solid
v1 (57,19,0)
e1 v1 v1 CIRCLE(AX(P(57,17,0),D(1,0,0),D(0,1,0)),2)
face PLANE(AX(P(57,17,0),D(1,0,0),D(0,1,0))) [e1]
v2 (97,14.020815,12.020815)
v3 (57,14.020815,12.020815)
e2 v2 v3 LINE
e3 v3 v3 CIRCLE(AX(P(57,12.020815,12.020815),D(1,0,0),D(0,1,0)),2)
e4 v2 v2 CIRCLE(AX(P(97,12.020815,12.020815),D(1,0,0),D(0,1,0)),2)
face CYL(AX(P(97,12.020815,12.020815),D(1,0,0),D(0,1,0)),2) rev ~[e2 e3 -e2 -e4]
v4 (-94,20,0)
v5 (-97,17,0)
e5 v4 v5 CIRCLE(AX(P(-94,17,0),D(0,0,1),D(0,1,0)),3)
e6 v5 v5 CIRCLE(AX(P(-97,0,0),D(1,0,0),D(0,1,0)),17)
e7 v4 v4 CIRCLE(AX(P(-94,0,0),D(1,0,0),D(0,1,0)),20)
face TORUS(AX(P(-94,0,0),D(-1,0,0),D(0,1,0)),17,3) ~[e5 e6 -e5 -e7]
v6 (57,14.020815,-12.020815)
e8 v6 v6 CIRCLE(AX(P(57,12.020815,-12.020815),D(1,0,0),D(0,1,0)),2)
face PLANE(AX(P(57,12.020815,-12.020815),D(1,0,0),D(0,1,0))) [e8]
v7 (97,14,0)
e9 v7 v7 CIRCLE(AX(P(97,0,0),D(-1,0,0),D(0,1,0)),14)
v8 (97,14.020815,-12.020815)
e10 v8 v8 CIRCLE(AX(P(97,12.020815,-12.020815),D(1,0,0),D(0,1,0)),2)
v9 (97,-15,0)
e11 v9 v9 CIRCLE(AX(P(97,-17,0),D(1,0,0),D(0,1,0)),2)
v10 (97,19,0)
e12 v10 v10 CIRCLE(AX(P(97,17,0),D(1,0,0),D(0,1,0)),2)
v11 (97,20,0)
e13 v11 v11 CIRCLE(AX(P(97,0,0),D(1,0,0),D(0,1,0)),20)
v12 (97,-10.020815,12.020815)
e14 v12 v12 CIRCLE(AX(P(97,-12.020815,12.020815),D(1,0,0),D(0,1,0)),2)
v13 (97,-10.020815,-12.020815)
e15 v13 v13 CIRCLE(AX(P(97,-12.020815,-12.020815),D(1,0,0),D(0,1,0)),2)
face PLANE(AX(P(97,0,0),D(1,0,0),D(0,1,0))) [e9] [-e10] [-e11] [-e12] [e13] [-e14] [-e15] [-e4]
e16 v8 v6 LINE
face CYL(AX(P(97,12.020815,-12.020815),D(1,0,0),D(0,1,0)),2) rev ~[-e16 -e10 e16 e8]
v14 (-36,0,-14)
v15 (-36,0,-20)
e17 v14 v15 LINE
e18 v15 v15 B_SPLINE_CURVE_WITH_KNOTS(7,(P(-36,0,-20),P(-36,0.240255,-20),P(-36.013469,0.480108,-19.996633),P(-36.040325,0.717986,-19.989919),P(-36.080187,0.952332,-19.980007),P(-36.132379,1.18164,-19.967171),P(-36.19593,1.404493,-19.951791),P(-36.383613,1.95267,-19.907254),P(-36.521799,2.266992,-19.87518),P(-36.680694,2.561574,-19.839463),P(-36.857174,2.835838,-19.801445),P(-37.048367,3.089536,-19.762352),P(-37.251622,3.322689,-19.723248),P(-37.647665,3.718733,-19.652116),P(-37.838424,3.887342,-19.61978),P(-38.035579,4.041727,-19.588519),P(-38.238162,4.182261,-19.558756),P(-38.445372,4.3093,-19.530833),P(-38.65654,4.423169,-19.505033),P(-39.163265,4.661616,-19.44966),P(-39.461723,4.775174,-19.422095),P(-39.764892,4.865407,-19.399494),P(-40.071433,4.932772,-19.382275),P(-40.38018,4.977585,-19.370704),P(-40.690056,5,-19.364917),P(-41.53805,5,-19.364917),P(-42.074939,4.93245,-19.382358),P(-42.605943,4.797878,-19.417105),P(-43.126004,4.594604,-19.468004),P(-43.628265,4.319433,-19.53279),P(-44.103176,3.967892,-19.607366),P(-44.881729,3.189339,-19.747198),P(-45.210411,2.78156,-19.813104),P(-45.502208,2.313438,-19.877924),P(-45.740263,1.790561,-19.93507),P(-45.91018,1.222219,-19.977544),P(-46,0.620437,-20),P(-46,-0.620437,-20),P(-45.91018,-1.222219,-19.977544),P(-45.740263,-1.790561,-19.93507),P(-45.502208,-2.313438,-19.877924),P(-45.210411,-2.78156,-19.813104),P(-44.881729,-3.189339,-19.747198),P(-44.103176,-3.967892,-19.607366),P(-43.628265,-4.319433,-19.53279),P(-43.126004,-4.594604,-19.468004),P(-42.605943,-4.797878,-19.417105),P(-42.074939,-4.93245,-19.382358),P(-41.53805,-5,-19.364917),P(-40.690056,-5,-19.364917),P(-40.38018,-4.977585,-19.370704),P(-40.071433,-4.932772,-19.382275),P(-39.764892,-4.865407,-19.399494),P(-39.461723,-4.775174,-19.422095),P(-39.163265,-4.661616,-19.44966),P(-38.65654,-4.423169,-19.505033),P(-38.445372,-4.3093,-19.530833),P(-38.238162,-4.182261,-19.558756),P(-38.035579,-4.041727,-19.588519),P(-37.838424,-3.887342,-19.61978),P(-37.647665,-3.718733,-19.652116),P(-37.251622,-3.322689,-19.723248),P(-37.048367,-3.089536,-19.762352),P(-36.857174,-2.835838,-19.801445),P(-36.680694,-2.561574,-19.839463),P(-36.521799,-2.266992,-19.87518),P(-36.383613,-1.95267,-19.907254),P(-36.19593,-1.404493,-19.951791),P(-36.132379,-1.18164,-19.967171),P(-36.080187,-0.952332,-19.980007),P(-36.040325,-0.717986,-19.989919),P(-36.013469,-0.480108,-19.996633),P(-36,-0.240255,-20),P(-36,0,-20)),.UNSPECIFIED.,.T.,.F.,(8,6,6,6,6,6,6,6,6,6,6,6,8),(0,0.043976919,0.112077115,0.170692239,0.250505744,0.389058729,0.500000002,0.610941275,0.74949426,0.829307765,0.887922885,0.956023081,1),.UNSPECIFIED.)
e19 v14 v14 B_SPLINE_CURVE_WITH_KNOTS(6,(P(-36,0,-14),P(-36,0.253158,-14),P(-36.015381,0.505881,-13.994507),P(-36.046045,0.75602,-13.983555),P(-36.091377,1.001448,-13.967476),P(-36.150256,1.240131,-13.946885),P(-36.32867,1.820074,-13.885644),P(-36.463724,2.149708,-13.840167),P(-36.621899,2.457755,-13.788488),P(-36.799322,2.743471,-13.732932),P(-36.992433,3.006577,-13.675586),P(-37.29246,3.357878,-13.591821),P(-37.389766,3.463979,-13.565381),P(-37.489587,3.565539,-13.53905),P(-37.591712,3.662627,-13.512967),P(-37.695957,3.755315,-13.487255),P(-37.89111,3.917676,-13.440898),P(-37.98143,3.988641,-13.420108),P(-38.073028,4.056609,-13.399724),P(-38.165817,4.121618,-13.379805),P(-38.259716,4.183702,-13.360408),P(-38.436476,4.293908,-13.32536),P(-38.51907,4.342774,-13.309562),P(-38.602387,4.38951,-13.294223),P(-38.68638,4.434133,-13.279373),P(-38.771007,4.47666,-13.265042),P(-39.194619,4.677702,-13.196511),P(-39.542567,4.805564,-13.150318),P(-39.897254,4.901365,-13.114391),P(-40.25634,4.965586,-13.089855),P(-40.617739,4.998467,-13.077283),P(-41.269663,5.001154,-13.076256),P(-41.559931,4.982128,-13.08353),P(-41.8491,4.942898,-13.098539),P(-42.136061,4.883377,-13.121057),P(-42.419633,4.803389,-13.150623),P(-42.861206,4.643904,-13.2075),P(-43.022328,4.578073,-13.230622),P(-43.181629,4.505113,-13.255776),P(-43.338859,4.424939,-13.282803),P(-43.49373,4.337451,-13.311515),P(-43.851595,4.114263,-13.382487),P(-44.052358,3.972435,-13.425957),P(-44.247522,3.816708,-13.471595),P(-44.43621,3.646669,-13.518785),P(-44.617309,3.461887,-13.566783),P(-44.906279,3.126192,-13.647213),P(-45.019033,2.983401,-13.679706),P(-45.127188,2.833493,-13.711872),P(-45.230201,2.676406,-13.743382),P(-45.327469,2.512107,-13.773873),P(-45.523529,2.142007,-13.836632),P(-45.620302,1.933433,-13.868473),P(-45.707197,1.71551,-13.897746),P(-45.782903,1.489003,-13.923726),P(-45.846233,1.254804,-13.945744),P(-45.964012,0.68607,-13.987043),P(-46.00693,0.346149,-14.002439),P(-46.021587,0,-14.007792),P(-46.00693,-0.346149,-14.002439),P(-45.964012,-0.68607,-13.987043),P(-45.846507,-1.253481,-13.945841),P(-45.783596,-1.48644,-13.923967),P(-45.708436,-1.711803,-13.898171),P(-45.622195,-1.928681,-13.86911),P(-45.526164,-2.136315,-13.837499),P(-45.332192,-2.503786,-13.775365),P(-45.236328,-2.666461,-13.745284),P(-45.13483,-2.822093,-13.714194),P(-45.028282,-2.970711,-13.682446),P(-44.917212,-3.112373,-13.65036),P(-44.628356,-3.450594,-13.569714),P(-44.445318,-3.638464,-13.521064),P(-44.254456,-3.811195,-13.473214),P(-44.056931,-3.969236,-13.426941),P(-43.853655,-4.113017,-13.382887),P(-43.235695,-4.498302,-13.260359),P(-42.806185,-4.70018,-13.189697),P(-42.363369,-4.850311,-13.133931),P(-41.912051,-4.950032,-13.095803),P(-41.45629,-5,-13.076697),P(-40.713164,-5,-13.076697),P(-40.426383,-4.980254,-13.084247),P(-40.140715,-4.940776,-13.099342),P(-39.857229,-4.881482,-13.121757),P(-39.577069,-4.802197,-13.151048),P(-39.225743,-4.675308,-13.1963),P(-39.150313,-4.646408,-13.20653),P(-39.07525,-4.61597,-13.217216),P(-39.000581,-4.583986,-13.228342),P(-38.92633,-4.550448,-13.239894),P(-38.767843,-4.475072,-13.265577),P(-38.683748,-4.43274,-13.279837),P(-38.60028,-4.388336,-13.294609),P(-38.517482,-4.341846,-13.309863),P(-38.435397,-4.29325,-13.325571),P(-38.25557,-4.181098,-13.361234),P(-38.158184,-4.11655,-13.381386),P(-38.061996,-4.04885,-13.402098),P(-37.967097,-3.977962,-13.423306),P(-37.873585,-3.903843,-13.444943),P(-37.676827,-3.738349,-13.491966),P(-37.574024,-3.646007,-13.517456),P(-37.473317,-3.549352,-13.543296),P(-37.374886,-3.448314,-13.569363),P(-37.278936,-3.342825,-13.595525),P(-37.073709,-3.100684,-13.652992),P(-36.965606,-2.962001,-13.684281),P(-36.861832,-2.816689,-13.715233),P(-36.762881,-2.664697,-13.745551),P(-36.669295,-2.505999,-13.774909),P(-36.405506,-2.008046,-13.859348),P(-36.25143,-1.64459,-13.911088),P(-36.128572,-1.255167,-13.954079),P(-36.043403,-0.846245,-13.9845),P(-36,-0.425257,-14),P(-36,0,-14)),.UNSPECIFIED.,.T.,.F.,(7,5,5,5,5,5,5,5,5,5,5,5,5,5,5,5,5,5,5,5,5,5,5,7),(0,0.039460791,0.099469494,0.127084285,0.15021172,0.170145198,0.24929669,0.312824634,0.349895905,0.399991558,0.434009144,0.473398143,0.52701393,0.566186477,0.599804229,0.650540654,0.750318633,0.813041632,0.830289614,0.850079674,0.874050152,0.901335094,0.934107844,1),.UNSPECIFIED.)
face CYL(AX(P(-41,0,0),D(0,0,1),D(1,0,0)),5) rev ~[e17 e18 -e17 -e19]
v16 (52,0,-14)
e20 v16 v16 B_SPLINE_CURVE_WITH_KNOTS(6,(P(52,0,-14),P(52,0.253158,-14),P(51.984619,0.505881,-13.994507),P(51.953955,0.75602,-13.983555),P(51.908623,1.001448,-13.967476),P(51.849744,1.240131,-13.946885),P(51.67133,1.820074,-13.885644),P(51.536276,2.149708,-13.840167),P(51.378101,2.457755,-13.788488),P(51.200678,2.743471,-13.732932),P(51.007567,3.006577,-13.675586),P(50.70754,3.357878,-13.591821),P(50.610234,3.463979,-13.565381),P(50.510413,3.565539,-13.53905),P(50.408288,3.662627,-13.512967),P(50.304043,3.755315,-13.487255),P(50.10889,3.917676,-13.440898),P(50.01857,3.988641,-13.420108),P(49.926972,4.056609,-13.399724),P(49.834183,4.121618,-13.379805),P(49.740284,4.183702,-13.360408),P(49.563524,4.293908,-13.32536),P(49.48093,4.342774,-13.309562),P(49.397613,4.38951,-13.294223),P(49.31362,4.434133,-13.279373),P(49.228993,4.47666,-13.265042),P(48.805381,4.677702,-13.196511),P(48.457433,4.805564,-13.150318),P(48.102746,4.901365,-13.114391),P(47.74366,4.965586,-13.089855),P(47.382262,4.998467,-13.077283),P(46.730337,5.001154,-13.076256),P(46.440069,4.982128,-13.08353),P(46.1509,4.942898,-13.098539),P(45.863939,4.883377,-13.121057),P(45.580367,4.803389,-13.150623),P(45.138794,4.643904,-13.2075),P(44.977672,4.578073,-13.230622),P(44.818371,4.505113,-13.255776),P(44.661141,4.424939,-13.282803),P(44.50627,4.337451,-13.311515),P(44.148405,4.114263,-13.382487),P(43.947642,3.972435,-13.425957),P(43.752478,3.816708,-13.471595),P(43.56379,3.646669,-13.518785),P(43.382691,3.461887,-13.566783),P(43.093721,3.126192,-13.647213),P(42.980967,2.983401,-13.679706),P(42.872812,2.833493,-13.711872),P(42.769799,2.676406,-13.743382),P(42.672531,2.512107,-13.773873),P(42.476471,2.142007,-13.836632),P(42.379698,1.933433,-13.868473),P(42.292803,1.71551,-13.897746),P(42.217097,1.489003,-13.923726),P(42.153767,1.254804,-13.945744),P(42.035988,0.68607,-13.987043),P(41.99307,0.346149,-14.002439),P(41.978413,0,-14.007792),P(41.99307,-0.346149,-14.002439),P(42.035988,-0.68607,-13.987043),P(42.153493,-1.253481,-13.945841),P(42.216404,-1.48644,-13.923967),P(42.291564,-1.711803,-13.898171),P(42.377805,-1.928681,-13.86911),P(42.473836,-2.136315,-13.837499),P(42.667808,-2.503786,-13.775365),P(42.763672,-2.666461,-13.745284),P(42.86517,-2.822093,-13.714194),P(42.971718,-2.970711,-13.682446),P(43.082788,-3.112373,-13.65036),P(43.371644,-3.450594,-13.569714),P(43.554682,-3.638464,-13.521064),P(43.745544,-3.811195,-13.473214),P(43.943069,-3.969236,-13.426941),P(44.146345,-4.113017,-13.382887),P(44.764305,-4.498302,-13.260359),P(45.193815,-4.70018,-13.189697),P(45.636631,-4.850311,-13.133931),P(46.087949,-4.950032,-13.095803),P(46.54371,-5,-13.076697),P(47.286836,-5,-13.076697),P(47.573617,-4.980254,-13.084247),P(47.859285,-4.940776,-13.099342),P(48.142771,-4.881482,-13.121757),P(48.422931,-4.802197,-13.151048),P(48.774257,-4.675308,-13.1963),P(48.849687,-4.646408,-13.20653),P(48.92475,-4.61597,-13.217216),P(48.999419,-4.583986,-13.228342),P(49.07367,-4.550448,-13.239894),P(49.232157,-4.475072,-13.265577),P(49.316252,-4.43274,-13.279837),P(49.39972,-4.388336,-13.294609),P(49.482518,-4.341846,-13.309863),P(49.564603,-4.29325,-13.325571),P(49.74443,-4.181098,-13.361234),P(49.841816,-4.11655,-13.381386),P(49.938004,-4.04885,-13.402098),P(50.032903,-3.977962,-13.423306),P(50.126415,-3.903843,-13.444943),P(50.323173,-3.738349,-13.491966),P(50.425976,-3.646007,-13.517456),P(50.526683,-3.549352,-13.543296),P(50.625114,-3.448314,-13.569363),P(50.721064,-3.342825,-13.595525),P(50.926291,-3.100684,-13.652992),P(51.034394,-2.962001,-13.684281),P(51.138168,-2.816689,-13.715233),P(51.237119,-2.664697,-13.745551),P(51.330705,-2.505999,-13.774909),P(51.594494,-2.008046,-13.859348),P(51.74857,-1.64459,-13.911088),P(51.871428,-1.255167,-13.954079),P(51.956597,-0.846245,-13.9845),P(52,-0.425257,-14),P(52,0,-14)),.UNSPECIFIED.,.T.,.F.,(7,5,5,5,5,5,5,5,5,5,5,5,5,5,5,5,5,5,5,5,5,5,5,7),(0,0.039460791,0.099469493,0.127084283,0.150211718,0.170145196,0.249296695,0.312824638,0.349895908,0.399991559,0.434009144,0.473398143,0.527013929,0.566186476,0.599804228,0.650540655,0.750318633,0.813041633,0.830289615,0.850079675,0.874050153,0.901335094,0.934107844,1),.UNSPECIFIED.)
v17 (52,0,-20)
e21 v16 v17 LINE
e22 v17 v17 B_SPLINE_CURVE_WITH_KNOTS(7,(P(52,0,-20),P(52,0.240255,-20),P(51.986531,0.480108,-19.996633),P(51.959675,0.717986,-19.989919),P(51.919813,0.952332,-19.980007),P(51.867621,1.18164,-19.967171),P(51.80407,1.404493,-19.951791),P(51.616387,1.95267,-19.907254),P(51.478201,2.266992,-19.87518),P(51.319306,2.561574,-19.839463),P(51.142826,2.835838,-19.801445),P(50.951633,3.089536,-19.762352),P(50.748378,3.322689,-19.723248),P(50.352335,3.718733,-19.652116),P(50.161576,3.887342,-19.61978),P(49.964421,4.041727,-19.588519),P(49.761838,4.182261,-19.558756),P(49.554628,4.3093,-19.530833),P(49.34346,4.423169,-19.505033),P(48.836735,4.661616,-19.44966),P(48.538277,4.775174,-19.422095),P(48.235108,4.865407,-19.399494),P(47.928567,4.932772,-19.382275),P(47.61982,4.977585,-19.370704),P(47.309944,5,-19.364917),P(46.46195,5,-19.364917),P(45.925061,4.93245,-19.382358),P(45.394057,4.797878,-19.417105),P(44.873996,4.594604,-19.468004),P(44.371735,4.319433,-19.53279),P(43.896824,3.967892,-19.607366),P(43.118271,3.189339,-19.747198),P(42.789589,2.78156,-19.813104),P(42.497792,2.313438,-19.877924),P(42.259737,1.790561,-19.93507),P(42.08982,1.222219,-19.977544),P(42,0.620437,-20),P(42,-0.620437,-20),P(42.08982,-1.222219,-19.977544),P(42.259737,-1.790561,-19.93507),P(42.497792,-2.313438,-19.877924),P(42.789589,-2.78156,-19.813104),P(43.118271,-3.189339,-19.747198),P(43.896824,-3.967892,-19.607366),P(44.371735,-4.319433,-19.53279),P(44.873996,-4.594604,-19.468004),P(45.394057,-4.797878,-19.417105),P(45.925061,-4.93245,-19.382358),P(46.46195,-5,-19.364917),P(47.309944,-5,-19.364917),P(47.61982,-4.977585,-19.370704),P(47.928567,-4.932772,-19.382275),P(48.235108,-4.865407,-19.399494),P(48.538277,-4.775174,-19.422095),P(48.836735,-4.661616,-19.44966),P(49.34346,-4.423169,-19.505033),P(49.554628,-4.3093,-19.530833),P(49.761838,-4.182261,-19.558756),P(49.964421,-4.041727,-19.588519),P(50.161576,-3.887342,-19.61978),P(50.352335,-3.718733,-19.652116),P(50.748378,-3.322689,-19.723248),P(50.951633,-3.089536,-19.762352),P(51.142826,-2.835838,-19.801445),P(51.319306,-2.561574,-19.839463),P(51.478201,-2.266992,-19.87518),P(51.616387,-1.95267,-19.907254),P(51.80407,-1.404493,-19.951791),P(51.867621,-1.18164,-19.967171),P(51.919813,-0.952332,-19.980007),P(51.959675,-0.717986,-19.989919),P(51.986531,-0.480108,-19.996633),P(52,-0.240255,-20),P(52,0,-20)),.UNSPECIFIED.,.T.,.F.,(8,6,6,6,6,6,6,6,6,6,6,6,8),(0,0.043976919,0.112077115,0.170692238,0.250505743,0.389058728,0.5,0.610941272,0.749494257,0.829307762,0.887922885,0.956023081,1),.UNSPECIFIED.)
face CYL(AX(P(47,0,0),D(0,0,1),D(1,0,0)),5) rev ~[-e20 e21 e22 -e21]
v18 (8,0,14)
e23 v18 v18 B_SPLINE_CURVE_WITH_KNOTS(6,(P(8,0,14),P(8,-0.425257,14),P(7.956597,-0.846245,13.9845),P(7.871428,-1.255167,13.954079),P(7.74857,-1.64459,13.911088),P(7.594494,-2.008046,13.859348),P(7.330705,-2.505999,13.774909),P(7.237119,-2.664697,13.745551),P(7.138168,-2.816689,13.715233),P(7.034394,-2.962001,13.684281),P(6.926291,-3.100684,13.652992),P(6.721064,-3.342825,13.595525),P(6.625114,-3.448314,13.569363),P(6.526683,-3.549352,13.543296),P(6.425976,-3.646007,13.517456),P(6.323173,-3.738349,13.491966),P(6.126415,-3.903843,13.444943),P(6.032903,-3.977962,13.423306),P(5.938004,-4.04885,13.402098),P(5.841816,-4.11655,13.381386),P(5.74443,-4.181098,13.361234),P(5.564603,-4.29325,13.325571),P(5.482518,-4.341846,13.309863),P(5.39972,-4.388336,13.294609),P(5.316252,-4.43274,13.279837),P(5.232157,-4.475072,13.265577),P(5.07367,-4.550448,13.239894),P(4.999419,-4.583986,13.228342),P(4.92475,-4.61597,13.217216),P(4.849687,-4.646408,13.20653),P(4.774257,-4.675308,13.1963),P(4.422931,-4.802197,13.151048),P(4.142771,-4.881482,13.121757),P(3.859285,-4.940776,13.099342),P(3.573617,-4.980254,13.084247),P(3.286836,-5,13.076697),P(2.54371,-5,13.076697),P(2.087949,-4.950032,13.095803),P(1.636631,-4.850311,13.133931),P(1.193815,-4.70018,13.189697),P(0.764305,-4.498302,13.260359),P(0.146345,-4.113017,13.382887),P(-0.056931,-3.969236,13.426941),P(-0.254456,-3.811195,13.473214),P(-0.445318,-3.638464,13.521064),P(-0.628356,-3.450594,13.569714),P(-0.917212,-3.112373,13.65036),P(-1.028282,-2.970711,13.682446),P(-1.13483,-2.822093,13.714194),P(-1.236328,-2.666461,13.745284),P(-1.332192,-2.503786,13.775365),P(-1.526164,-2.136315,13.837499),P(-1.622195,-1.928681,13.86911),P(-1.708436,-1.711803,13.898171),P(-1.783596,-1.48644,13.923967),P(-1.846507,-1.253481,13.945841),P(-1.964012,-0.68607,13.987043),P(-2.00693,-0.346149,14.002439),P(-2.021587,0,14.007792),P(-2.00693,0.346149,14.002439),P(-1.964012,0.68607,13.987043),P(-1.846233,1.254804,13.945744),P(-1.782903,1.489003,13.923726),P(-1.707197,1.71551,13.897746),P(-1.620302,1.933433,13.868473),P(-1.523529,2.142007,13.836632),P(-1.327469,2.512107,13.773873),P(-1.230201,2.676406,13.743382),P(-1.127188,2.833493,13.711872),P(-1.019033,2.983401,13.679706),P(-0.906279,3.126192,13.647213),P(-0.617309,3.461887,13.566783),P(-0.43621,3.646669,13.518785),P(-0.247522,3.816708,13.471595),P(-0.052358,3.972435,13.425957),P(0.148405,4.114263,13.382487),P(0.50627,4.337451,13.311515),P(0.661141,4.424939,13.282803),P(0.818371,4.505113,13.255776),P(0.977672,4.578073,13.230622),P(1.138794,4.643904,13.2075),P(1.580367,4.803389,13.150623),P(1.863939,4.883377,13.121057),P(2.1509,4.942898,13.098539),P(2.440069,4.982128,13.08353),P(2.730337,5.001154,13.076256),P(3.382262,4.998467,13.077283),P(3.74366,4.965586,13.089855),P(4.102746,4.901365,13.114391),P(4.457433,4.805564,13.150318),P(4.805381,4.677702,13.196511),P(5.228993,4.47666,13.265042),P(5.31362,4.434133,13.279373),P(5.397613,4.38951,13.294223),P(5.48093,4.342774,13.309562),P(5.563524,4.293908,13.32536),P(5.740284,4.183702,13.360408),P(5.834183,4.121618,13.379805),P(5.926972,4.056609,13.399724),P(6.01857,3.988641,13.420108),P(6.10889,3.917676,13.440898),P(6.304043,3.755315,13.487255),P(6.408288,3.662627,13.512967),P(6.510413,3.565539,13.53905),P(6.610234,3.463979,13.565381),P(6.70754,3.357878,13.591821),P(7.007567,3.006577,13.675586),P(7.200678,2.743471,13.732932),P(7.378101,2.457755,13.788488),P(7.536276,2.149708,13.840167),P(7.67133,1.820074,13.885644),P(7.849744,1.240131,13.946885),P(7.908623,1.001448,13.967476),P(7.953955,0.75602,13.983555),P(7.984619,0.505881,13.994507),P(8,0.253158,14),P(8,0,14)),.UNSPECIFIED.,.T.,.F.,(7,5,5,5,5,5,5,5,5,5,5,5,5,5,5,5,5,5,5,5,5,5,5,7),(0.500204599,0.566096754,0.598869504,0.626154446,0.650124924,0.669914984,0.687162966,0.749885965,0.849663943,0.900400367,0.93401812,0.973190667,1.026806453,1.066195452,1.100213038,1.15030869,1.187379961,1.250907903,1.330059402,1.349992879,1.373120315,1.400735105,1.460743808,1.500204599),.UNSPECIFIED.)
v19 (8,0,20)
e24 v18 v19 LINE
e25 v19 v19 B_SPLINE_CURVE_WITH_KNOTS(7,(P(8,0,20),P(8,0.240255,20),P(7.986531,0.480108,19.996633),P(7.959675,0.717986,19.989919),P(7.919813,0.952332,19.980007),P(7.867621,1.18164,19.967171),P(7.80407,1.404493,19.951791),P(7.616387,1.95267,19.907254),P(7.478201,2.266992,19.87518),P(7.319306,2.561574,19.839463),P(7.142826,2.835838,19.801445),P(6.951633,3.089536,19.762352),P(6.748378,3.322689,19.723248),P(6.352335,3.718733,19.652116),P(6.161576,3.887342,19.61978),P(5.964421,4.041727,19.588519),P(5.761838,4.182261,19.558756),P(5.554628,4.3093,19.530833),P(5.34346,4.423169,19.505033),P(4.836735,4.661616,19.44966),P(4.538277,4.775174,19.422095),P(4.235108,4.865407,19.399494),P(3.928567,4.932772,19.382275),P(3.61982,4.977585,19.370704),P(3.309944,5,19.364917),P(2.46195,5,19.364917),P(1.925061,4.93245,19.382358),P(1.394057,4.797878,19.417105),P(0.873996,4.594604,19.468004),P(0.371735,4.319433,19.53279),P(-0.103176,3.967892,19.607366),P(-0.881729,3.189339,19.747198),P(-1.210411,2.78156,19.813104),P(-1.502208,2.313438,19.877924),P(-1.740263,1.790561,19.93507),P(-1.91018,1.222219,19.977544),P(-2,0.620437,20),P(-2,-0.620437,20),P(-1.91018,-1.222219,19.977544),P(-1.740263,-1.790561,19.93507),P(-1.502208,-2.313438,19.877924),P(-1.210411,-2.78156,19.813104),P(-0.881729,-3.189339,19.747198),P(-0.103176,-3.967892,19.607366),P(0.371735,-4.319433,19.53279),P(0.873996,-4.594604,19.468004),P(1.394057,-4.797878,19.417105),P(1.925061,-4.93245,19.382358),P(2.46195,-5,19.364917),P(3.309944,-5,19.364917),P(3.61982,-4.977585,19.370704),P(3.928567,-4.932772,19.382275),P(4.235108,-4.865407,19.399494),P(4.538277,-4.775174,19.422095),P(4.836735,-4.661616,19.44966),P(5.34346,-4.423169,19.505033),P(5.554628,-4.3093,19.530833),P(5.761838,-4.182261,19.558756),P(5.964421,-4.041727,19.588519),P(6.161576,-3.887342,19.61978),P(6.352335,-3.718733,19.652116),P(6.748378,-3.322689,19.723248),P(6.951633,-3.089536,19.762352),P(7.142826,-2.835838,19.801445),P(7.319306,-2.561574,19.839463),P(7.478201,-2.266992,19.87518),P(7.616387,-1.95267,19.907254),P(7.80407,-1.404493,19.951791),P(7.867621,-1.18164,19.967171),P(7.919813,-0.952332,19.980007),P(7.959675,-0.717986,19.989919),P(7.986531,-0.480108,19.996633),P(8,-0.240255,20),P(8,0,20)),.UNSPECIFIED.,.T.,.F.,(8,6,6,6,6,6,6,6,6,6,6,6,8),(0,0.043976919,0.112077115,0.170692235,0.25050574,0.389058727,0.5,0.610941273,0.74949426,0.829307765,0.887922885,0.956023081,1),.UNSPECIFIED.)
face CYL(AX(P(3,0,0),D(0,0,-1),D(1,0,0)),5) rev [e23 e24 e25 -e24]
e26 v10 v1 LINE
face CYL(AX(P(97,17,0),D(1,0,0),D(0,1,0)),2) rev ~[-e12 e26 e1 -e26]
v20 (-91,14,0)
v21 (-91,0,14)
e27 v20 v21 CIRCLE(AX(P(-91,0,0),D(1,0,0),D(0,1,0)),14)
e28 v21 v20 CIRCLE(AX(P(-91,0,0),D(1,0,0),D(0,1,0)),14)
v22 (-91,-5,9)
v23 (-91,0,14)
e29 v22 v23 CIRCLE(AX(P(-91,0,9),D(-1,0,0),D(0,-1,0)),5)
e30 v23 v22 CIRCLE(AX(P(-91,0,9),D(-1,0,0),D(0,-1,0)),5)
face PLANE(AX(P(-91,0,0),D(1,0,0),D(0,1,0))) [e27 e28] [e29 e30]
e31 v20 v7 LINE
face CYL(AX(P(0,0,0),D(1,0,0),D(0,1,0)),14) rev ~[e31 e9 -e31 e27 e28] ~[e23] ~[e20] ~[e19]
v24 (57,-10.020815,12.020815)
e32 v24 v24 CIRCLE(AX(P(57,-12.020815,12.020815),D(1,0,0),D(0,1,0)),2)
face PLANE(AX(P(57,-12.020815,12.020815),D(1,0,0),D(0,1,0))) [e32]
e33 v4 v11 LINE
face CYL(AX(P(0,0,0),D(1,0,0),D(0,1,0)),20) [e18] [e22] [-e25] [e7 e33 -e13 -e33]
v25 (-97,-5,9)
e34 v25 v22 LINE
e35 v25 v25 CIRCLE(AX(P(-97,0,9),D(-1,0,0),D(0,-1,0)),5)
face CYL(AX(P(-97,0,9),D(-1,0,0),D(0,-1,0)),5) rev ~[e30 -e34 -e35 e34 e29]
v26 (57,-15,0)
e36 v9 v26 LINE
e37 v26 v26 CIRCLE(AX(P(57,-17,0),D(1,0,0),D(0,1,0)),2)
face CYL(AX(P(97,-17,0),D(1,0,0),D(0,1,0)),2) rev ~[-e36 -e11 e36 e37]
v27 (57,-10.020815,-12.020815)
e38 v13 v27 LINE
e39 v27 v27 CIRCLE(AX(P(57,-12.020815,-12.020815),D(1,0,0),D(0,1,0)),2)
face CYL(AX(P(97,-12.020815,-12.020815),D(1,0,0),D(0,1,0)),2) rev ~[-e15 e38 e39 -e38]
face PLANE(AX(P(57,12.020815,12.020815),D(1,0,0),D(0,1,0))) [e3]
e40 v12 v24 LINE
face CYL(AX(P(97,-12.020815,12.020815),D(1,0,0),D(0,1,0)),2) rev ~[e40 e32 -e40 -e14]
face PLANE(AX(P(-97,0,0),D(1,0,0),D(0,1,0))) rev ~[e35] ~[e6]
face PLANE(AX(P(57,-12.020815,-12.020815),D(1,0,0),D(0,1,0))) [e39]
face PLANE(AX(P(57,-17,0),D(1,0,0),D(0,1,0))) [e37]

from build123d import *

# Parameters (mm, degrees)
F0_R      = 20
F1_DEPTH  = 97
F2_T      = -6
F3_R      = 2
F4_DEPTH  = 40
F5_R      = 3
F6_R      = 5
F7_DEPTH  = 20.001
F8_R      = 5
F9_DEPTH  = 20.001
F10_R     = 5
F11_DEPTH = 194.001


with BuildPart() as f1:
    # F0 (on Right) → F1 (new body, symmetric)
    with BuildSketch(Plane.YZ):
        Circle(F0_R)
    extrude(amount=F1_DEPTH, both=True)

    # F2
    f2_openings = [f1.faces().sort_by_distance(p)[0] for p in [
        (97, 0, 0),
    ]]
    offset(amount=F2_T, openings=f2_openings)

    # F3 (on face) → F4 (cut)
    with BuildSketch(Plane.YZ.offset(97)):
        with Locations((17, 0)):
            Circle(F3_R)
        with Locations((12.020815, -12.020815)):
            Circle(F3_R)
        with Locations((-12.020815, -12.020815)):
            Circle(F3_R)
        with Locations((-17, 0)):
            Circle(F3_R)
        with Locations((12.020815, 12.020815)):
            Circle(F3_R)
        with Locations((-12.020815, 12.020815)):
            Circle(F3_R)
    extrude(amount=-F4_DEPTH, mode=Mode.SUBTRACT)

    # F5
    f5_edges = [f1.edges().sort_by_distance(p)[0] for p in [
        (-97, -20, 0),
    ]]
    fillet(f5_edges, radius=F5_R)

    # F6 (on Top) → F7 (cut, through all)
    with BuildSketch(Plane.XY):
        with Locations((-41, 0)):
            Circle(F6_R)
        with Locations((47, 0)):
            Circle(F6_R)
    extrude(amount=-F7_DEPTH, mode=Mode.SUBTRACT)

    # F8 (on Top) → F9 (cut, through all)
    with BuildSketch(Plane.XY):
        with Locations((3, 0)):
            Circle(F8_R)
    extrude(amount=F9_DEPTH, mode=Mode.SUBTRACT)

    # F10 (on face) → F11 (cut, through all)
    with BuildSketch(Plane(origin=(-97, 0, 0), x_dir=(0, -1, 0), z_dir=(-1, 0, 0))):
        with Locations((0, 9)):
            Circle(F10_R)
    extrude(amount=-F11_DEPTH, mode=Mode.SUBTRACT)


solid = f1.part
